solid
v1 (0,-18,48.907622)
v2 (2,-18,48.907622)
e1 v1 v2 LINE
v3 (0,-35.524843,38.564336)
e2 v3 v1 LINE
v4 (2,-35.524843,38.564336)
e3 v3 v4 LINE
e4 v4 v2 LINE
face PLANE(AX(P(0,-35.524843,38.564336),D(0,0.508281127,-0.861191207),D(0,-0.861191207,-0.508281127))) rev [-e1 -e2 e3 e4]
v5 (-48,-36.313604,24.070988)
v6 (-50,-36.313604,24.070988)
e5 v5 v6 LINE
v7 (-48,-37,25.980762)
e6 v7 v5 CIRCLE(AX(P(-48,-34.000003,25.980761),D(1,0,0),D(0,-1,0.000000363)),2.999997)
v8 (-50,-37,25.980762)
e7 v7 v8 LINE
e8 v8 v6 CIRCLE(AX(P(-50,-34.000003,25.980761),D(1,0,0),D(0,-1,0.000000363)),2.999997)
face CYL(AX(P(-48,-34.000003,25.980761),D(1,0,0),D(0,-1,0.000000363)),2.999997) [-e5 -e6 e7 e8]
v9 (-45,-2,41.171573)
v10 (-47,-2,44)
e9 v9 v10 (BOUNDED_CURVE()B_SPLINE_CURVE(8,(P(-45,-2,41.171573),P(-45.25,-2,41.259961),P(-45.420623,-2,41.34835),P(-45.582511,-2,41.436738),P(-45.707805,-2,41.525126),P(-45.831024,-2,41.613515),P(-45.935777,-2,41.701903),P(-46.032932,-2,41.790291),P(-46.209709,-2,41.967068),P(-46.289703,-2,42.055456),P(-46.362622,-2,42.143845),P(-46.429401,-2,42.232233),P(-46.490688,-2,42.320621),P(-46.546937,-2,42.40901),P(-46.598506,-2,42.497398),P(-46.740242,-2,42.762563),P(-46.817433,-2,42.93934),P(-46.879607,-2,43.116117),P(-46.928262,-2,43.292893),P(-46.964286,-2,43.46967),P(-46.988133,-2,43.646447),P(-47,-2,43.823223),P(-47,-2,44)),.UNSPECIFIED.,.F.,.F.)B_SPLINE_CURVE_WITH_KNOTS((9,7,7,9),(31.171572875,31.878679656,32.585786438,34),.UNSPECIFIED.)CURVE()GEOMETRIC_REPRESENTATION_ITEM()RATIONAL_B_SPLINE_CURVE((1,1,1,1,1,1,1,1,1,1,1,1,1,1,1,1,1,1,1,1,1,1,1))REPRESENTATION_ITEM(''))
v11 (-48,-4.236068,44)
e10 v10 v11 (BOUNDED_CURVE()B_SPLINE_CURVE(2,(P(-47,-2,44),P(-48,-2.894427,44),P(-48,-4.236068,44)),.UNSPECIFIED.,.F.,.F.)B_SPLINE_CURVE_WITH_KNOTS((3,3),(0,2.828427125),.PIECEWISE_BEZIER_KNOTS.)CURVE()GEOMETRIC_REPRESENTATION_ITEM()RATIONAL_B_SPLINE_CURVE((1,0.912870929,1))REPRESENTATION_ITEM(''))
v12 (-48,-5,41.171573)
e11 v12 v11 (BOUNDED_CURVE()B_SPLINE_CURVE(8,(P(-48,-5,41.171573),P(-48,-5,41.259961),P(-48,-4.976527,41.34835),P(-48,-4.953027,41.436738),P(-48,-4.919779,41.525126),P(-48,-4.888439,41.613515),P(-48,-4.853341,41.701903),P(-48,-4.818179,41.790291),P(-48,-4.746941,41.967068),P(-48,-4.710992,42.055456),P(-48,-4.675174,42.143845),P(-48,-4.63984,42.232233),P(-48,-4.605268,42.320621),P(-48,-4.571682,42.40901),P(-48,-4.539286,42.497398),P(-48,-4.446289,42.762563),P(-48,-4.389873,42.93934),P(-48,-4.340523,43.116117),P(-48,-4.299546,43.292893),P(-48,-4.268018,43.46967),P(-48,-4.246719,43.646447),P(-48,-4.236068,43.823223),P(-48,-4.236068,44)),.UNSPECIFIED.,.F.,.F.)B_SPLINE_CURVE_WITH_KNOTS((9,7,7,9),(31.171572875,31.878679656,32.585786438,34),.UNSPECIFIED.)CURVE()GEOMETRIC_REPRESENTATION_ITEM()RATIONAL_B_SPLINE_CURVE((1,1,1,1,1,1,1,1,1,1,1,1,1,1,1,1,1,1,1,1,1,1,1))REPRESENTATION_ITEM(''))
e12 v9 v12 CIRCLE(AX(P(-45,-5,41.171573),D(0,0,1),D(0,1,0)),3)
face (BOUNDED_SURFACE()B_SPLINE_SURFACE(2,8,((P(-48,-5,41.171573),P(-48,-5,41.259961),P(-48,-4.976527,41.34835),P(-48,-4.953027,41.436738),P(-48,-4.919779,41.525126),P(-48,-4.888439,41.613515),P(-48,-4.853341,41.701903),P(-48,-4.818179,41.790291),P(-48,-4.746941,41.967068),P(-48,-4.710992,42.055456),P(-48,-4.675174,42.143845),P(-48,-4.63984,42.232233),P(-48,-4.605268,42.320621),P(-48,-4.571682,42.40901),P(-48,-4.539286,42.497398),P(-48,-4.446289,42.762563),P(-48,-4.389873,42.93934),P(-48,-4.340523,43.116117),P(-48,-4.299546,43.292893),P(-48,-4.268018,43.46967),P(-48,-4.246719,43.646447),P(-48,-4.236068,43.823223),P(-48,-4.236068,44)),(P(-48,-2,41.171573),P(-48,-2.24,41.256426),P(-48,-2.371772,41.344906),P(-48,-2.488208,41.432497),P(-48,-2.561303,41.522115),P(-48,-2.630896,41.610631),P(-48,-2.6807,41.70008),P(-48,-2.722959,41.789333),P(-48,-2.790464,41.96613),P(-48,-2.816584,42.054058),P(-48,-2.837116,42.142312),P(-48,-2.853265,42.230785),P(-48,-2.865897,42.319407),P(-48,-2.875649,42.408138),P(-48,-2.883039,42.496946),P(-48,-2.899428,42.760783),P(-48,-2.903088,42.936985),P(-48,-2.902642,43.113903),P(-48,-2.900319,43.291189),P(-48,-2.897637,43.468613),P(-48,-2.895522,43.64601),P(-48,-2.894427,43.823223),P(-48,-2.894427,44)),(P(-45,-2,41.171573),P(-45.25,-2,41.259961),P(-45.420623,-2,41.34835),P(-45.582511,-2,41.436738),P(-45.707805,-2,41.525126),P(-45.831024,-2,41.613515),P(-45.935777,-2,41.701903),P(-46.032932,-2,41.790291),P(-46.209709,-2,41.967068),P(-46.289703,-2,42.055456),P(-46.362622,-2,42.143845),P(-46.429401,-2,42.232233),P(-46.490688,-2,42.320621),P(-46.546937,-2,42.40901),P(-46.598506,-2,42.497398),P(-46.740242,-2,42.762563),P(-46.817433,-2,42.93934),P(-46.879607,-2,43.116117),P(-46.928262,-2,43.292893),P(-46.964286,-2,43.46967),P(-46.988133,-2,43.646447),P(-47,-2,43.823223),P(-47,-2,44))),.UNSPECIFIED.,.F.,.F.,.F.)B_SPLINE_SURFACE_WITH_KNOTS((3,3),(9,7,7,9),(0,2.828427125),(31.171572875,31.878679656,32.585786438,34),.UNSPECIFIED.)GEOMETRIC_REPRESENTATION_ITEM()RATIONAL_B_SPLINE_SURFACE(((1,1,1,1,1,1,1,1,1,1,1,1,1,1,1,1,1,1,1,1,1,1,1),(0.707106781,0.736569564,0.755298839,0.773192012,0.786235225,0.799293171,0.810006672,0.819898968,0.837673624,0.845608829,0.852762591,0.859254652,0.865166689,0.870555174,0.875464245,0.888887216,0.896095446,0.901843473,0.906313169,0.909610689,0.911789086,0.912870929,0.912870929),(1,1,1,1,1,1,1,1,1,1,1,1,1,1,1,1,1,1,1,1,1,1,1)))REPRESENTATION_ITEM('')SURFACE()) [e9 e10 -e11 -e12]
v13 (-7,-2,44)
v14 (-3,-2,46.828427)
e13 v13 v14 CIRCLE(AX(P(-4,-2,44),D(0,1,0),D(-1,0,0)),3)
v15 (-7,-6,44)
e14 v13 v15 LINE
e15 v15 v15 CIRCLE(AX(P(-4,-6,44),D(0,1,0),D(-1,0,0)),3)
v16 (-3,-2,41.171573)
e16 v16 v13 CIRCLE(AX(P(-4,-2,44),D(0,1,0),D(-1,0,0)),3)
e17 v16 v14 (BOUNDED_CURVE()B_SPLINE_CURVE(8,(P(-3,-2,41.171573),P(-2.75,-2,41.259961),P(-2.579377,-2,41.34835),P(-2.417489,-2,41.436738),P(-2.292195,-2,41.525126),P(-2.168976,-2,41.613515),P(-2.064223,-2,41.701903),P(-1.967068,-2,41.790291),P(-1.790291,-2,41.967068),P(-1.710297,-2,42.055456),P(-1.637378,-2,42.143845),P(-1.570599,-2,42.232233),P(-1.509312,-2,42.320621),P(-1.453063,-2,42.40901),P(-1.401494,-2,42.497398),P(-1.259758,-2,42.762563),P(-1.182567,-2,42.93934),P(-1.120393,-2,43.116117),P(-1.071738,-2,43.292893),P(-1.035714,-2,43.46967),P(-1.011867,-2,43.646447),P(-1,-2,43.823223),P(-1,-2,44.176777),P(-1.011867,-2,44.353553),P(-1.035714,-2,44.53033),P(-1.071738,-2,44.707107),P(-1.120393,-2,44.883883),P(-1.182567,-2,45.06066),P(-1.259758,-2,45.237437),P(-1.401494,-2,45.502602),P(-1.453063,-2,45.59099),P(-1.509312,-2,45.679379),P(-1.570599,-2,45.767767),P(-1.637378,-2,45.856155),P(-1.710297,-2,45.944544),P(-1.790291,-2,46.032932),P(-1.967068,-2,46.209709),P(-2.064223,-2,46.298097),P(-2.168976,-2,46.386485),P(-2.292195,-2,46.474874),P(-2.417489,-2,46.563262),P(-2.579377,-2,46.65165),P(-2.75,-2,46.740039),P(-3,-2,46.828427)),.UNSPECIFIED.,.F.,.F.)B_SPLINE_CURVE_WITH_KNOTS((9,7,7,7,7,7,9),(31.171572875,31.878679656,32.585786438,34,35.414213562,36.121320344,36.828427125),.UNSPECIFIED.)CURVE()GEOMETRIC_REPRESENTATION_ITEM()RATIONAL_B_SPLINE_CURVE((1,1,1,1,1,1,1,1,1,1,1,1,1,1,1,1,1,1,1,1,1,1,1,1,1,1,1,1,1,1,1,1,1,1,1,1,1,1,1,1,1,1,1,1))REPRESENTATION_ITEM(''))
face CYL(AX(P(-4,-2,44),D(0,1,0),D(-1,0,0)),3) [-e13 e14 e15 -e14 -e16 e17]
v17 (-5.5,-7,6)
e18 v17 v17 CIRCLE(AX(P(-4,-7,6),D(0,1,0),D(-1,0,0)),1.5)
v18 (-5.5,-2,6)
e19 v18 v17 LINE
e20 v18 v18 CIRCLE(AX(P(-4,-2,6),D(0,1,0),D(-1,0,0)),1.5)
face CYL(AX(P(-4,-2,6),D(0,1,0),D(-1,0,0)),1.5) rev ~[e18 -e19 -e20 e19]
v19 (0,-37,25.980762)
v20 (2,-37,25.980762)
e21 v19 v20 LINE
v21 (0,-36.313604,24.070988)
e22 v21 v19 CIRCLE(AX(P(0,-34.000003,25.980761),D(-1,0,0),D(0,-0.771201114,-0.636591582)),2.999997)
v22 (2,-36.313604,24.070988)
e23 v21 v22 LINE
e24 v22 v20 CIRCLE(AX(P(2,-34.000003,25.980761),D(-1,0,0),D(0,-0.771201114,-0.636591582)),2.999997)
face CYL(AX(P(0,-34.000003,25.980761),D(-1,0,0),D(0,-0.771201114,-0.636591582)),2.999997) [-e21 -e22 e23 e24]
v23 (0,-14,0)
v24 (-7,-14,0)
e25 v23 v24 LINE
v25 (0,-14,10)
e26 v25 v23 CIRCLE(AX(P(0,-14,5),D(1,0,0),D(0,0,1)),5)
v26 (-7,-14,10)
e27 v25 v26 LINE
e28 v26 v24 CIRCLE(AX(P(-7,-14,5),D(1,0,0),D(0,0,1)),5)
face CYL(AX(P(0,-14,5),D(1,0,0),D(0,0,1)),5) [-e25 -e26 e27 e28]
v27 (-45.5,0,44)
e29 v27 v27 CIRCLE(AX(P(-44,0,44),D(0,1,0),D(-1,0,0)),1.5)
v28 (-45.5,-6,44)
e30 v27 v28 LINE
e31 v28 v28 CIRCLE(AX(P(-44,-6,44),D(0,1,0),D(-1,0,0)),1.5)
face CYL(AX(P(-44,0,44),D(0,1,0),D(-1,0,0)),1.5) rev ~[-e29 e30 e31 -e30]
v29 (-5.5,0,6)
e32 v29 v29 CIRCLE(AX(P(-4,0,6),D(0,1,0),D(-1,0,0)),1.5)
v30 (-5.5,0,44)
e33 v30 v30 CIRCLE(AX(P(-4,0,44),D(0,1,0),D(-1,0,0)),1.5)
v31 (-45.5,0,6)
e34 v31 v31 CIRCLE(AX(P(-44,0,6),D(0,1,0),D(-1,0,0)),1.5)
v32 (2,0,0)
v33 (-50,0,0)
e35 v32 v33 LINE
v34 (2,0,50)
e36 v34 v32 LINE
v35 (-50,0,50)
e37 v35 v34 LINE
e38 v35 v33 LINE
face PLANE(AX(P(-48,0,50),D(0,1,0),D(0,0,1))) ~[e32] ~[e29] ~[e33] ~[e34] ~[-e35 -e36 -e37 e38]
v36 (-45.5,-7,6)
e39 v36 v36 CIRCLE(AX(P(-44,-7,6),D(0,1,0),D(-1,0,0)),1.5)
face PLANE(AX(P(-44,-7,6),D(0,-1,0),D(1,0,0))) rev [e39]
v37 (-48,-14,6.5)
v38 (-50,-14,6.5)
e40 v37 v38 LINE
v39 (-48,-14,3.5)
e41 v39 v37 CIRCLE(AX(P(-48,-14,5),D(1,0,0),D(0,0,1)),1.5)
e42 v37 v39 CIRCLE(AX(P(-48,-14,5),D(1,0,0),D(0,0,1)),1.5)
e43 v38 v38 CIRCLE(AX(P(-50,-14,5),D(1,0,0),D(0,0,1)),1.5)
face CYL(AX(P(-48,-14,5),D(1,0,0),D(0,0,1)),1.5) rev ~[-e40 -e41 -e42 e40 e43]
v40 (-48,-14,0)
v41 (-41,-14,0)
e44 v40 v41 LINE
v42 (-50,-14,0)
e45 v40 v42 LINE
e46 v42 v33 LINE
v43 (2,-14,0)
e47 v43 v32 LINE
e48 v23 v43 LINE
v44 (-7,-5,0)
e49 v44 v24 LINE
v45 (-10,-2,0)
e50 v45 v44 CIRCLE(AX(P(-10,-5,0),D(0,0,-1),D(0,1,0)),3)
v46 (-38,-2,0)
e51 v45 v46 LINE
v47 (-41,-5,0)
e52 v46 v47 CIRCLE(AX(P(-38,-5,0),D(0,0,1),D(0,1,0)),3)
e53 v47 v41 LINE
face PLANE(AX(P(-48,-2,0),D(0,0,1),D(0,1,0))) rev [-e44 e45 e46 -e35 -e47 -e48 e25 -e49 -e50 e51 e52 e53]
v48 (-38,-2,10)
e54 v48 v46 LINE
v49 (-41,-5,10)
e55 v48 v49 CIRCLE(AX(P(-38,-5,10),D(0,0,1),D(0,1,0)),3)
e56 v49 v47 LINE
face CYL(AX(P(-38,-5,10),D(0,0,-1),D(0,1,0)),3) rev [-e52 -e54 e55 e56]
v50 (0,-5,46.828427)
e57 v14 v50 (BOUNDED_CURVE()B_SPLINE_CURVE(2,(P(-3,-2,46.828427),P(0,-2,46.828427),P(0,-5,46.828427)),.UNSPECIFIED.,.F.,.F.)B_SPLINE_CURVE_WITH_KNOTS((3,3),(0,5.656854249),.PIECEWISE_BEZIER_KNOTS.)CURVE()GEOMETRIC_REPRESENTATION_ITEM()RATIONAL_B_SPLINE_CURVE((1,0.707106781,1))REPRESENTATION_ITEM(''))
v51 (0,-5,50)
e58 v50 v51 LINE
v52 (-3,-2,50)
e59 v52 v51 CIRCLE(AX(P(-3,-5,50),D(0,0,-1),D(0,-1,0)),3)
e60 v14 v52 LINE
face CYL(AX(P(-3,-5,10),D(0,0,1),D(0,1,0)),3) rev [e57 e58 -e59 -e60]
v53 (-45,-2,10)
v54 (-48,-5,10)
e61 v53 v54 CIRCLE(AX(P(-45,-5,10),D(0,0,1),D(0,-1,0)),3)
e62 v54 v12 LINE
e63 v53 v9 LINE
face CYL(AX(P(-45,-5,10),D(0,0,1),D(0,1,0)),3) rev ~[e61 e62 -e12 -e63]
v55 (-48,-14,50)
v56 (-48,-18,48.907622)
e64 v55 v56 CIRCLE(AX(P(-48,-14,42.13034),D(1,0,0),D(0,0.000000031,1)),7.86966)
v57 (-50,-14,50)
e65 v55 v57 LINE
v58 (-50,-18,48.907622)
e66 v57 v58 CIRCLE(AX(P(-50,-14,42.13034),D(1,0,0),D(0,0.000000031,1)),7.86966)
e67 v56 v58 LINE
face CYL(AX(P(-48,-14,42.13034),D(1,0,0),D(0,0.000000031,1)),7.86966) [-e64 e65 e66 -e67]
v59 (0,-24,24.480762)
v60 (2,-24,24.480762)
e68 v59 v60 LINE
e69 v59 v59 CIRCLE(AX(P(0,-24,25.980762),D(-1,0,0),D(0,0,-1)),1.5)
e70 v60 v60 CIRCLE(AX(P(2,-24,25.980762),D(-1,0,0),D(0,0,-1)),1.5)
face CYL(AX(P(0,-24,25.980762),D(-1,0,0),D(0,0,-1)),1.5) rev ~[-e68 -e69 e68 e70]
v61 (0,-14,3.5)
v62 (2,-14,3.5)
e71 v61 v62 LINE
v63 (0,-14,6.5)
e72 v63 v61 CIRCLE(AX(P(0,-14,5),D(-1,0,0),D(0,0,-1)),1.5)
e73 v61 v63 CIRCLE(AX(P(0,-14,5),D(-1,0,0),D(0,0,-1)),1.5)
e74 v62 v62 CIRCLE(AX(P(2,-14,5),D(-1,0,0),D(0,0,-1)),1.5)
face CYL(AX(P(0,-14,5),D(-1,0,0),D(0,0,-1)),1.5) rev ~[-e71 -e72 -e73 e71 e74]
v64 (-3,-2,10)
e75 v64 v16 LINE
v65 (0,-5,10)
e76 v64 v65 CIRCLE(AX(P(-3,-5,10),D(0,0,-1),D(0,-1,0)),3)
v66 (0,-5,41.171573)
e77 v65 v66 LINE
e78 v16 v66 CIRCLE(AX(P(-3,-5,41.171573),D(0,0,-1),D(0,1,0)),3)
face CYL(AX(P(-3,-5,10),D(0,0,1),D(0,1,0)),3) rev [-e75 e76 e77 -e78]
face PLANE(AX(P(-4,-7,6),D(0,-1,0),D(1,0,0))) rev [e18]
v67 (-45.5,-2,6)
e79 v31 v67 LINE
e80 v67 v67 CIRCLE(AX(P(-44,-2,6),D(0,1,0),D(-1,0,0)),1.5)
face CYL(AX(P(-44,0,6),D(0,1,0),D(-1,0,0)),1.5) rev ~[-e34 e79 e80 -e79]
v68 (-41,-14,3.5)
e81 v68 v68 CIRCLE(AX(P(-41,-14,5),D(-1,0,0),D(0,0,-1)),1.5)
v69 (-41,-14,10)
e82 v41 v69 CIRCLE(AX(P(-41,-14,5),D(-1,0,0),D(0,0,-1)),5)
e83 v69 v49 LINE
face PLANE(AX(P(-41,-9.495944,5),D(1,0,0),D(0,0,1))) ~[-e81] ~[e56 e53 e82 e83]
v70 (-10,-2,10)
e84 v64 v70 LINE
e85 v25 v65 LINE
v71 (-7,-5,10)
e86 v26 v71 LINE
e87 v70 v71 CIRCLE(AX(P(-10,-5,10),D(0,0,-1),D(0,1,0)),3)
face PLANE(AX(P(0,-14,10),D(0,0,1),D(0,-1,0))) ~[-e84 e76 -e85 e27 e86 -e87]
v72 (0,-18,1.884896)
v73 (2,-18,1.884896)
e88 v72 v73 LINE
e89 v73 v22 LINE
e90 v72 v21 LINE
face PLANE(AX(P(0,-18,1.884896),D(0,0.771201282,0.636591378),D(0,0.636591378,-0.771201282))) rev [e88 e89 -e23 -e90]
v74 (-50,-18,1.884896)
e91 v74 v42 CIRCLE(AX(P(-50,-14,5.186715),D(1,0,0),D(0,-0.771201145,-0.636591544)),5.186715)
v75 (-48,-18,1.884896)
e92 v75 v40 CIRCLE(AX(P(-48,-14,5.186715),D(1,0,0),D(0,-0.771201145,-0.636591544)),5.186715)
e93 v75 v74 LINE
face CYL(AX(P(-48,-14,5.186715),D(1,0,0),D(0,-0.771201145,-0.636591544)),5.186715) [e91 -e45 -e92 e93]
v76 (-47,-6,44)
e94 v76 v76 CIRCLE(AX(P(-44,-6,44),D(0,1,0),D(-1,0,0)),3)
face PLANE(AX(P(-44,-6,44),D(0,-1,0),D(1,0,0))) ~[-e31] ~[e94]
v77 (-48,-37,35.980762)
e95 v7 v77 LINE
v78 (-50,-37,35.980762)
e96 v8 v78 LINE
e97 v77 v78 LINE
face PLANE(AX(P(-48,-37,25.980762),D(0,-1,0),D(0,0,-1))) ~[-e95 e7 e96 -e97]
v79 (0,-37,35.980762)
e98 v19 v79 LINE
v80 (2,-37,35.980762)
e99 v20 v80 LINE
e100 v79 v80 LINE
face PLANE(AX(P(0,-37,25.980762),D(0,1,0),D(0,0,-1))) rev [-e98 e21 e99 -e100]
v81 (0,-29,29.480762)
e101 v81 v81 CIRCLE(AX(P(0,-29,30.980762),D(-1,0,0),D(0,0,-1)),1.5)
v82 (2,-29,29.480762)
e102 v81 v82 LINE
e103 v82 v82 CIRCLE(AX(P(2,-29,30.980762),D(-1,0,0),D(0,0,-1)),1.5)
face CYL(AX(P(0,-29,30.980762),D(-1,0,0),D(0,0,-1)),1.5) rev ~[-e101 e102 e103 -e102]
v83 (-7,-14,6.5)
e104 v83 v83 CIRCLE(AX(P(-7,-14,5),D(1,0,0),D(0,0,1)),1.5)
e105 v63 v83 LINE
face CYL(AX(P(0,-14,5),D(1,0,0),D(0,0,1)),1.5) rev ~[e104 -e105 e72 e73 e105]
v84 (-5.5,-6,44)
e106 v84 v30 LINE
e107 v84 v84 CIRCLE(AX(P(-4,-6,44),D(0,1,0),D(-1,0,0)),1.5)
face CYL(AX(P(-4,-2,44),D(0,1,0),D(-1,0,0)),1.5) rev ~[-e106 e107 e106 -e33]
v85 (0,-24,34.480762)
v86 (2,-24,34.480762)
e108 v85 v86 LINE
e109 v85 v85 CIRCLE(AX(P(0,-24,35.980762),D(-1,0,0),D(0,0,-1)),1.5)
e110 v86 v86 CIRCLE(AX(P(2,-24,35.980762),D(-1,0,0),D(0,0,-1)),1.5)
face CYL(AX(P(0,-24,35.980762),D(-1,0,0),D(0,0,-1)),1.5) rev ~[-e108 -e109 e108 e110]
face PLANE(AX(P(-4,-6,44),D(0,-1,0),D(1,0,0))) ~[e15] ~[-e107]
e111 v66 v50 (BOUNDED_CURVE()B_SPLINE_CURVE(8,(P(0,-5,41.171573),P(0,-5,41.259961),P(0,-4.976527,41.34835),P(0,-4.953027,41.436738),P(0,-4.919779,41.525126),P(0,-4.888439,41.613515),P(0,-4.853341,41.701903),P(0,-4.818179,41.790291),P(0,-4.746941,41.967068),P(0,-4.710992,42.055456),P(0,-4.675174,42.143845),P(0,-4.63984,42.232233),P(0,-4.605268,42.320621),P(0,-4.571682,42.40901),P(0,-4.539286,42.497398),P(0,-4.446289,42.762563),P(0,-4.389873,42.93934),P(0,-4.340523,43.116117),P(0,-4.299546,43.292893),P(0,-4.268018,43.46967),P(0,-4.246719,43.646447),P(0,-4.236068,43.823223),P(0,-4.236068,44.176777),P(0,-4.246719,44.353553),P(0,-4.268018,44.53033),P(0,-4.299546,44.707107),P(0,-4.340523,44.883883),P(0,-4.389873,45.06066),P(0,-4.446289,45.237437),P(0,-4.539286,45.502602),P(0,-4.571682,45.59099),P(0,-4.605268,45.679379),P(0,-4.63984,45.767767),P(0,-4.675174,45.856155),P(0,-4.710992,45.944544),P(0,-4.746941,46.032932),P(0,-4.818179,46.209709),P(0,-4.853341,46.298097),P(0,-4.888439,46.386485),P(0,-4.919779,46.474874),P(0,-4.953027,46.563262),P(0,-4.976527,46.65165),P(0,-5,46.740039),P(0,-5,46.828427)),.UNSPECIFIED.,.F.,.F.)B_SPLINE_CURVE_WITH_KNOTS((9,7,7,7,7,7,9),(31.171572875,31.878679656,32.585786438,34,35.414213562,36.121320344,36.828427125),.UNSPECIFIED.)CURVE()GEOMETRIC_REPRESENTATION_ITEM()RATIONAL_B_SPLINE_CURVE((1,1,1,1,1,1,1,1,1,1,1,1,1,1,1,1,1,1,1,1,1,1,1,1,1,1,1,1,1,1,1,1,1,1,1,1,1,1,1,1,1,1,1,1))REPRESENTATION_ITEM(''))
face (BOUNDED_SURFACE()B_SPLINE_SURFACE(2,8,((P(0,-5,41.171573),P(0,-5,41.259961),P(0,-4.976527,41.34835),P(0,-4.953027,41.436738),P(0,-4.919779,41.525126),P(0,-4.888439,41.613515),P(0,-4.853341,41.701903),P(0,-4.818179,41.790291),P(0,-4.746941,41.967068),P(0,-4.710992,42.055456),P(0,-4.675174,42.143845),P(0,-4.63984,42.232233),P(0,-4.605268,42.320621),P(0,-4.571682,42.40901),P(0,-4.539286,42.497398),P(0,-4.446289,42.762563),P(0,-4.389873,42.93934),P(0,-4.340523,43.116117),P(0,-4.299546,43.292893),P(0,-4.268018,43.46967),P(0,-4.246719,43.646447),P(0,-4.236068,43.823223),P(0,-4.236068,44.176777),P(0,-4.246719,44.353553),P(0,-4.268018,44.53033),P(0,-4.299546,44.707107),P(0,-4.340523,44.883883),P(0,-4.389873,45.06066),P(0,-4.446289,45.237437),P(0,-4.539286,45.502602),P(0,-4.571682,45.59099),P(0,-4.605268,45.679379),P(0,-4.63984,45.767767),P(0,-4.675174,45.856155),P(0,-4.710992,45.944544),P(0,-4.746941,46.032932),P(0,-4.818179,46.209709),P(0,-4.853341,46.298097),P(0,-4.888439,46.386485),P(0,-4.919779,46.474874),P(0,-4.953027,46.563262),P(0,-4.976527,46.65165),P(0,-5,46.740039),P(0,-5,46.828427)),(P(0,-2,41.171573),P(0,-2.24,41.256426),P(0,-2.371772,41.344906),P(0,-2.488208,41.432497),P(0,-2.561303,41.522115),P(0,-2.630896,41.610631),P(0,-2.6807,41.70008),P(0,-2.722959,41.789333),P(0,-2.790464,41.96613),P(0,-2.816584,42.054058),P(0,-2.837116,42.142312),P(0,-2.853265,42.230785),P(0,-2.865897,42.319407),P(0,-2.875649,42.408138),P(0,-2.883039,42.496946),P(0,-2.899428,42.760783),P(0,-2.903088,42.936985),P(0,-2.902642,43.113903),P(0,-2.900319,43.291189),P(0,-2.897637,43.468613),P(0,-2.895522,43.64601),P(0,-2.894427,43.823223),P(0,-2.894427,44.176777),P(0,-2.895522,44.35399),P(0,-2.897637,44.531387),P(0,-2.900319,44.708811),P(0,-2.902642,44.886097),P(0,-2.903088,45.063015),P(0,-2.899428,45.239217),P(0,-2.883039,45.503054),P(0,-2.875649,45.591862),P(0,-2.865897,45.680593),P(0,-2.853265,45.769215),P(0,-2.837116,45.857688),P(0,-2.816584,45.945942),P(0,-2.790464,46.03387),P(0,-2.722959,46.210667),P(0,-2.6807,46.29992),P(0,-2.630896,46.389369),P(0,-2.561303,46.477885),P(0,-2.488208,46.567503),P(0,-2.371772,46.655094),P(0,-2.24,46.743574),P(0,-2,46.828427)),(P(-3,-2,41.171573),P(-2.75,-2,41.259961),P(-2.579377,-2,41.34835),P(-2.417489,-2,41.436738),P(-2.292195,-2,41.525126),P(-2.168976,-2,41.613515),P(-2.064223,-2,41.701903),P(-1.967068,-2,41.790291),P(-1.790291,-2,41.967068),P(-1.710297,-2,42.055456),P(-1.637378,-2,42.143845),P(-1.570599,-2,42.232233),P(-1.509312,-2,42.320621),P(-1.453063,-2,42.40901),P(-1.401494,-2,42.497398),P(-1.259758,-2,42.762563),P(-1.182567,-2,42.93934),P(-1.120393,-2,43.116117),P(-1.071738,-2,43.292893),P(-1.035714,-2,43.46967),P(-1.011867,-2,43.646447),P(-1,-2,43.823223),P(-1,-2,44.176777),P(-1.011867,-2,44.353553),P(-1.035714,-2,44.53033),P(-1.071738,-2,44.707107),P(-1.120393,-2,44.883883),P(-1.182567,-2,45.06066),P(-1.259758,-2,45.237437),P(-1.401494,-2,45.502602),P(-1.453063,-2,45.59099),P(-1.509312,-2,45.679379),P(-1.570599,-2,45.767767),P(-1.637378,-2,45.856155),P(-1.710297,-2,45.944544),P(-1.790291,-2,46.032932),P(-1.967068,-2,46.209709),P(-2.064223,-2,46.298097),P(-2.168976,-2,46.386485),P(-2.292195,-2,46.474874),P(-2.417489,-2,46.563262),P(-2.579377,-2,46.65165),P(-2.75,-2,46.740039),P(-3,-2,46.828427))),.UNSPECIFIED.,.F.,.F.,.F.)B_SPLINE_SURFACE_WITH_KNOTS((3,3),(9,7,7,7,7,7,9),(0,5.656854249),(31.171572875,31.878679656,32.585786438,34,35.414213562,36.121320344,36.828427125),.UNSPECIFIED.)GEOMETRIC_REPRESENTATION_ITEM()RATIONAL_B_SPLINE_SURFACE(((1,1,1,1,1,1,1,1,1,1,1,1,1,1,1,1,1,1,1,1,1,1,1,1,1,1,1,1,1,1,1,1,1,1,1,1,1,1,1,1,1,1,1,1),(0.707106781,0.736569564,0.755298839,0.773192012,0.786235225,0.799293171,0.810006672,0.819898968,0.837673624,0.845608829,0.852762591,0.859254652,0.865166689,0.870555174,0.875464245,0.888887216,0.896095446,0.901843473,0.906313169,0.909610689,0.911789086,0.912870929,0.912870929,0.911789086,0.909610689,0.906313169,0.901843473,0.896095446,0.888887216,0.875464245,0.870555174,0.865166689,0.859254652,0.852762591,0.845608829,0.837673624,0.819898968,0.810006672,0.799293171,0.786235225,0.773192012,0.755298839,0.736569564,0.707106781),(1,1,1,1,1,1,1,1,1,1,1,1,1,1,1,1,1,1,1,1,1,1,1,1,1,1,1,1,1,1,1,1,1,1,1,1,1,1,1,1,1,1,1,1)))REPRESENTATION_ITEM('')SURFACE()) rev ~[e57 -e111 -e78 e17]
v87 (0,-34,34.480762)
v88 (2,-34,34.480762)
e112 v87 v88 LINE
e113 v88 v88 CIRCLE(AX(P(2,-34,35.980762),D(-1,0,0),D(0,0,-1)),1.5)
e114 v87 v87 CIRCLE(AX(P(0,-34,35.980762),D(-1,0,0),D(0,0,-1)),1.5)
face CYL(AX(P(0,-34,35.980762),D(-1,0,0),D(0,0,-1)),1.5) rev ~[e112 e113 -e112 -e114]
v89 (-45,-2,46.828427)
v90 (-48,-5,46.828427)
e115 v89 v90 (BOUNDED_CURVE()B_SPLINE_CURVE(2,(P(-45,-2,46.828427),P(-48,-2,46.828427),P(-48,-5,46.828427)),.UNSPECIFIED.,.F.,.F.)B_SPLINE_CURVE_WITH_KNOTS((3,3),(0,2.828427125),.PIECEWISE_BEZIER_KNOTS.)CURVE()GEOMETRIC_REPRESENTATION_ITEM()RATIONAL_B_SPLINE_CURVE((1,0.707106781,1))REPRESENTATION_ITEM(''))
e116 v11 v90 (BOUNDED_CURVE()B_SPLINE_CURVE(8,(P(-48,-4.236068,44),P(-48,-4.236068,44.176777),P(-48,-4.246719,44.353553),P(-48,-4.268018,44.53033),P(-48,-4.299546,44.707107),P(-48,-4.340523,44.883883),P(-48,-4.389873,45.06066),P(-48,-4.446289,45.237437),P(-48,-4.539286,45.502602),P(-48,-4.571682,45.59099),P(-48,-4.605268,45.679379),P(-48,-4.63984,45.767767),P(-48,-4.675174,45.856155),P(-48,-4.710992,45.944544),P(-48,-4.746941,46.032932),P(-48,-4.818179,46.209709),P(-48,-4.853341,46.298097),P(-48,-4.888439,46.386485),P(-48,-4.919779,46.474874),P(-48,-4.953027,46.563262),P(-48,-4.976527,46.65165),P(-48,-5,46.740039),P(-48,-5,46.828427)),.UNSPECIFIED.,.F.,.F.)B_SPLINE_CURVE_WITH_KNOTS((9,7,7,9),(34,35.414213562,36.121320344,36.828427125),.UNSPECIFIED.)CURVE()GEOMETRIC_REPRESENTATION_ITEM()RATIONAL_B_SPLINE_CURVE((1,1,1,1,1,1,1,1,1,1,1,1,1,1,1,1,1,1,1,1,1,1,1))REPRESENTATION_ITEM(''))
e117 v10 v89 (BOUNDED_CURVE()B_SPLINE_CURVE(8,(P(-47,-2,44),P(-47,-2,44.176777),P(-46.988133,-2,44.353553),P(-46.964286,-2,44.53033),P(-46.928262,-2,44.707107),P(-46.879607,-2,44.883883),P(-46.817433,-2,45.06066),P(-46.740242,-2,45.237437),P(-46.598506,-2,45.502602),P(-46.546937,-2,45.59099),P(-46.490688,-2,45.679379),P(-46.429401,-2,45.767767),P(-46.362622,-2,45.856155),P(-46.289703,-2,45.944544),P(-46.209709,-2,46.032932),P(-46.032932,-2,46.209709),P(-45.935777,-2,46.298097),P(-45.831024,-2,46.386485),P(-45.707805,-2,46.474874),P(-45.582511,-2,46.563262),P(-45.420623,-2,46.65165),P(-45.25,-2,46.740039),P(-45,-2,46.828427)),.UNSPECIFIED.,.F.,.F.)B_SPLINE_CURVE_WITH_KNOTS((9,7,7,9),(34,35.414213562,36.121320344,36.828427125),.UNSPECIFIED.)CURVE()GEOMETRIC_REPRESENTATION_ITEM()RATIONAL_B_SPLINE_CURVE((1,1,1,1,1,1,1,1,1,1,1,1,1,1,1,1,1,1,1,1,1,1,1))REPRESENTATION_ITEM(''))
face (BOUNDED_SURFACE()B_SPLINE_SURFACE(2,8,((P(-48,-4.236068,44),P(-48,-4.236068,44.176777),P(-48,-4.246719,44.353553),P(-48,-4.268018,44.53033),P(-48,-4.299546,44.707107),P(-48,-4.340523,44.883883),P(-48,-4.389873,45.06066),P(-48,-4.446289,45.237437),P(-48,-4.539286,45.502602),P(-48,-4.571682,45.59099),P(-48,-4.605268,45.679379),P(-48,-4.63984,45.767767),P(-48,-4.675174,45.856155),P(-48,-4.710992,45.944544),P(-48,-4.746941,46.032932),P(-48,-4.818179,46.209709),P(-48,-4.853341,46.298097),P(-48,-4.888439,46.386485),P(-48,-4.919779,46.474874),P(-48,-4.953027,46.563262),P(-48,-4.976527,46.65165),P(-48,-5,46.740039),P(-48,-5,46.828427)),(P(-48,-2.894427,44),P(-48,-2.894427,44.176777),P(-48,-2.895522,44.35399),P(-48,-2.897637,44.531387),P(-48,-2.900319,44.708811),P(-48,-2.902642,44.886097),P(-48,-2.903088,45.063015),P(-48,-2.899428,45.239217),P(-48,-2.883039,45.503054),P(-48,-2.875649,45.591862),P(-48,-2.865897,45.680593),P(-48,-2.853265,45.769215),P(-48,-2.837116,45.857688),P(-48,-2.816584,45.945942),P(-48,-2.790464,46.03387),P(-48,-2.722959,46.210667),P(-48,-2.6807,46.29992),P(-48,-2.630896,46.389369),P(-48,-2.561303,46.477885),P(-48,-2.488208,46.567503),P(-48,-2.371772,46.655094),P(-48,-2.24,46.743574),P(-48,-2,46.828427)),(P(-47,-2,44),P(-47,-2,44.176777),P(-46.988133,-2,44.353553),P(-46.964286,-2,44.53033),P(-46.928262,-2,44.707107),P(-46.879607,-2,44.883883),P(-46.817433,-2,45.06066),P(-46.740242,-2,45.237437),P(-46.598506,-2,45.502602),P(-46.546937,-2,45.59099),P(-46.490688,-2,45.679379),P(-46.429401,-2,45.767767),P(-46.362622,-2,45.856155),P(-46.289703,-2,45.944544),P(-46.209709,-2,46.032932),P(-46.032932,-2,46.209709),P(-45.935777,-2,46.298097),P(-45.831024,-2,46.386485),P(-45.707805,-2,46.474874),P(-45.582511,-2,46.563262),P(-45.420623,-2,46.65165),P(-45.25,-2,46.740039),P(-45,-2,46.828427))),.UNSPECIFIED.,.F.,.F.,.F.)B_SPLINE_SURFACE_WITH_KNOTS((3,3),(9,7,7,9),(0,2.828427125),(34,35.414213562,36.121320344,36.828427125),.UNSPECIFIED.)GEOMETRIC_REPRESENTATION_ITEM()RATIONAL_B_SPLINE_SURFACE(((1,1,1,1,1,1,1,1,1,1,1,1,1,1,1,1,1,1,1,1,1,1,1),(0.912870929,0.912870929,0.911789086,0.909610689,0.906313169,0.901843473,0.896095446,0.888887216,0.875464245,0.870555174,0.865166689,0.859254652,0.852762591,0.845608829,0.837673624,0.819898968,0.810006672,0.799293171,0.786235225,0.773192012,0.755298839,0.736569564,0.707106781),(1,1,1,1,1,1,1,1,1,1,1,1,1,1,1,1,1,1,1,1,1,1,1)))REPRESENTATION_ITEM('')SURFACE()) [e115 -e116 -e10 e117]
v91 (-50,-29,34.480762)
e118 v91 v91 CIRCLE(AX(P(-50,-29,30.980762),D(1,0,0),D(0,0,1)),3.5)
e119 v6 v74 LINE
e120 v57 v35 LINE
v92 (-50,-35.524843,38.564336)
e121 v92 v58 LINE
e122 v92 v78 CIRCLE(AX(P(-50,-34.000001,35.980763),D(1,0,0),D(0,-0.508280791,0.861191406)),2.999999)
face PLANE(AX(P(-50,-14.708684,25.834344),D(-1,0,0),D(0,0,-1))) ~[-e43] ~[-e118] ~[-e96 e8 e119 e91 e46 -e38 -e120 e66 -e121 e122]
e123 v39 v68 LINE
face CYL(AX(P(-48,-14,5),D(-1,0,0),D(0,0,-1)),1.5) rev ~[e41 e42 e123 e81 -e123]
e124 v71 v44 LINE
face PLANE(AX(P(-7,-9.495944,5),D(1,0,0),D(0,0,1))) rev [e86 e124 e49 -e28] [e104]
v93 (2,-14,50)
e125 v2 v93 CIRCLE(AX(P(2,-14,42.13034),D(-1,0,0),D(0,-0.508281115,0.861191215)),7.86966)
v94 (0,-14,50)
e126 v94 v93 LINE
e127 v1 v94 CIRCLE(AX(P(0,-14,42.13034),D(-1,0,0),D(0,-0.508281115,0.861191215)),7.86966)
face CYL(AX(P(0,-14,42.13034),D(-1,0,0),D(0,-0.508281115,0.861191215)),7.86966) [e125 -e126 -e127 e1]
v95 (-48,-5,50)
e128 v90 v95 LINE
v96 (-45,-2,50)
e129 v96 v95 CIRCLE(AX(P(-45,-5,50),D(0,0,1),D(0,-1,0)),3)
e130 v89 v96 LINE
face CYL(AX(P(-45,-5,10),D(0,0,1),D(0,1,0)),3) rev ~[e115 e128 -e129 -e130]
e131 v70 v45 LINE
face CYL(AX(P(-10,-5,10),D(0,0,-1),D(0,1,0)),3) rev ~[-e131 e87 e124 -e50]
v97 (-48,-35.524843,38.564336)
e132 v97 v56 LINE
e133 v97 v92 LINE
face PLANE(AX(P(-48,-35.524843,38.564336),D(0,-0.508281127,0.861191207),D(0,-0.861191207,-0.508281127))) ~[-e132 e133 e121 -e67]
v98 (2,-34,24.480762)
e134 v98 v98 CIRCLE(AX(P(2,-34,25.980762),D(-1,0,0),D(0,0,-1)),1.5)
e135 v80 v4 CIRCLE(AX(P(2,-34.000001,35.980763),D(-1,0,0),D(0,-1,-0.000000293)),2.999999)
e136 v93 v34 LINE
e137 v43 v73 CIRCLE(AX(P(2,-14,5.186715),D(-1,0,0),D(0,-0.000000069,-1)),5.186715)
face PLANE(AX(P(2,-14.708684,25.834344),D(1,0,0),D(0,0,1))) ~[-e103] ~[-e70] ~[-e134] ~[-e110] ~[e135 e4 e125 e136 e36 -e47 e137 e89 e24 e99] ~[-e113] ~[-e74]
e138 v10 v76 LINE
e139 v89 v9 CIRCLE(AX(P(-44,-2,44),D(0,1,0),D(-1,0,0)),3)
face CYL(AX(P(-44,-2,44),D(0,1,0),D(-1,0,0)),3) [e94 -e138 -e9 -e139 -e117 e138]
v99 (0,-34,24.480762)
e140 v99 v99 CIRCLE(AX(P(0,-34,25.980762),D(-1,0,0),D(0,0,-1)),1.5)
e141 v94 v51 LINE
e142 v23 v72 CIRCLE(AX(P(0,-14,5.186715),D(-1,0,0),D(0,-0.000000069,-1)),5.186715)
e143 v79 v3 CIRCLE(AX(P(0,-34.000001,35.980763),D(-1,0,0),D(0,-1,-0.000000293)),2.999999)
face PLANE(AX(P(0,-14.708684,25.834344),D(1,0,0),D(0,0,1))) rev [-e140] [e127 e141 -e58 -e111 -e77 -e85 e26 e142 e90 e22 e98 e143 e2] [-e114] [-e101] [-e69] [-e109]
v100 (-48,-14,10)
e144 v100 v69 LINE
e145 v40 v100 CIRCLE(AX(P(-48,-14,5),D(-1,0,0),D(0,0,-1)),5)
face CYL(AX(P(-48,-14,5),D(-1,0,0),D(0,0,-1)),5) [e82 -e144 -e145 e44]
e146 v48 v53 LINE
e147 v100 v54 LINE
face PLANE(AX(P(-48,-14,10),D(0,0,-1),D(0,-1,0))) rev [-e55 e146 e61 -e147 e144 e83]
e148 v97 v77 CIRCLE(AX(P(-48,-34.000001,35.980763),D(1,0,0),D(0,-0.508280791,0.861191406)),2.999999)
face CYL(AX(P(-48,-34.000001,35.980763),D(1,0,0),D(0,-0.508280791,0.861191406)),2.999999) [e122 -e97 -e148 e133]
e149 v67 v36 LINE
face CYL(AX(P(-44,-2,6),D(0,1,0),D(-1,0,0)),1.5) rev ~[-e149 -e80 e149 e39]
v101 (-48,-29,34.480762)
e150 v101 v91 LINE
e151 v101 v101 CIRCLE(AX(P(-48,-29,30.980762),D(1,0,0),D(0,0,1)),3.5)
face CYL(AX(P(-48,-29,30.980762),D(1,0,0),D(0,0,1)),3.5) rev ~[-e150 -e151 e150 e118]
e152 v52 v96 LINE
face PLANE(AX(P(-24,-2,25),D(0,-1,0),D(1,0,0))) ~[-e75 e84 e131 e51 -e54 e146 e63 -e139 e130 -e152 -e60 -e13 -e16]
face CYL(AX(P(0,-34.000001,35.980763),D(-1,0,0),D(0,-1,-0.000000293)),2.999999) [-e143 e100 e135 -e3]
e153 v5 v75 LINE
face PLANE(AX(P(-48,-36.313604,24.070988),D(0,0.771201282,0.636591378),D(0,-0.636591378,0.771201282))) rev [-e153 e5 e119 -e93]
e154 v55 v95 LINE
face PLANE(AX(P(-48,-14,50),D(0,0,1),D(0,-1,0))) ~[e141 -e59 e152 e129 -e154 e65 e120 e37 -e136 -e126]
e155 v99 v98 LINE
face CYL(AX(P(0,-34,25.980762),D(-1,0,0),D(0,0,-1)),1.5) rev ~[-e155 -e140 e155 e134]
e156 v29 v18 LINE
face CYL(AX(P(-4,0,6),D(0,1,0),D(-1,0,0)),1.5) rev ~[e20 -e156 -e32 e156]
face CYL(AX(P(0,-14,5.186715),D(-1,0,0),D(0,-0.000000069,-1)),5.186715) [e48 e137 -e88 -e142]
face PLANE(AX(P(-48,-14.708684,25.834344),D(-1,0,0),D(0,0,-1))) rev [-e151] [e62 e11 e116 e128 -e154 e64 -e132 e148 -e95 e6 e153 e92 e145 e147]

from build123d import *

# Parameters (mm, degrees)
SKETCH_W      = 48
SKETCH_H      = 50
SKETCH_R      = 1.5
PAD_DEPTH     = 2
SKETCH001_R   = 1.5
PAD001_DEPTH  = 2
SKETCH002_R   = 3.5
SKETCH002_R_2 = 1.5
PAD002_DEPTH  = 2
SKETCH003_R   = 3
SKETCH003_R_2 = 1.5
PAD003_DEPTH  = 4
SKETCH004_R   = 1.5
PAD004_DEPTH  = 7
SKETCH005_R   = 1.5
PAD005_DEPTH  = 7
SKETCH006_R   = 1.5
POCKET_DEPTH  = 5
FILLET_R      = 3
FILLET001_R   = 3
FILLET002_R   = 3
FILLET003_R   = 3


with BuildPart() as body:
    # Sketch → Pad (new body)
    with BuildSketch(Plane.XZ):
        with Locations((24, 25)):
            Rectangle(SKETCH_W, SKETCH_H)
        with Locations((4, 44)):
            Circle(SKETCH_R, mode=Mode.SUBTRACT)
        with Locations((44, 44)):
            Circle(SKETCH_R, mode=Mode.SUBTRACT)
        with Locations((4, 6)):
            Circle(SKETCH_R, mode=Mode.SUBTRACT)
        with Locations((44, 6)):
            Circle(SKETCH_R, mode=Mode.SUBTRACT)
    extrude(amount=PAD_DEPTH)

    # Sketch001 (on Face4 of Pad) → Pad001 (join)
    with BuildSketch(Plane(origin=(0, 0, 0), x_dir=(0, 0, -1), z_dir=(-1, 0, 0))):
        with BuildLine():
            Line((-50, 0), (0, 0))
            Line((0, 14), (0, 0))
            ThreePointArc((0, 14), (-0.494828, 16.210929), (-1.884896, 18))
            Line((-1.884896, 18), (-24.070988, 36.313604))
            ThreePointArc((-24.070988, 36.313604), (-24.966073, 36.823191), (-25.980762, 37))
            Line((-25.980762, 37), (-35.980762, 37))
            ThreePointArc((-35.980762, 37), (-37.468289, 36.605238), (-38.564336, 35.524843))
            Line((-38.564336, 35.524843), (-48.907622, 18))
            ThreePointArc((-48.907622, 18), (-49.721995, 16.07324), (-50, 14))
            Line((-50, 14), (-50, 0))
        make_face()
        with Locations((-5, 14)):
            Circle(SKETCH001_R, mode=Mode.SUBTRACT)
        with Locations((-30.980762, 29)):
            Circle(SKETCH001_R, mode=Mode.SUBTRACT)
        with Locations((-25.980762, 24)):
            Circle(SKETCH001_R, mode=Mode.SUBTRACT)
        with Locations((-25.980762, 34)):
            Circle(SKETCH001_R, mode=Mode.SUBTRACT)
        with Locations((-35.980762, 34)):
            Circle(SKETCH001_R, mode=Mode.SUBTRACT)
        with Locations((-35.980762, 24)):
            Circle(SKETCH001_R, mode=Mode.SUBTRACT)
    extrude(amount=PAD001_DEPTH)

    # Sketch002 (on Face3 of Pad001) → Pad002 (join)
    with BuildSketch(Plane(origin=(48, 0, 0), x_dir=(0, 0, 1), z_dir=(1, 0, 0))):
        with BuildLine():
            Line((24.070988, 36.313604), (1.884896, 18))
            ThreePointArc((1.884896, 18), (0.494828, 16.210929), (0, 14))
            Line((0, 14), (0, 0))
            Line((50, 0), (0, 0))
            Line((50, 14), (50, 0))
            ThreePointArc((50, 14), (49.721995, 16.07324), (48.907622, 18))
            Line((38.564336, 35.524843), (48.907622, 18))
            ThreePointArc((38.564336, 35.524843), (37.468289, 36.605238), (35.980762, 37))
            Line((25.980762, 37), (35.980762, 37))
            ThreePointArc((25.980762, 37), (24.966073, 36.823191), (24.070988, 36.313604))
        make_face()
        with Locations((30.980762, 29)):
            Circle(SKETCH002_R, mode=Mode.SUBTRACT)
        with Locations((5, 14)):
            Circle(SKETCH002_R_2, mode=Mode.SUBTRACT)
    extrude(amount=PAD002_DEPTH)

    # Sketch003 (on Face5 of Pad002) → Pad003 (join)
    with BuildSketch(Plane.XZ.offset(2)):
        with Locations((4, 44)):
            Circle(SKETCH003_R)
        with Locations((4, 44)):
            Circle(SKETCH003_R_2, mode=Mode.SUBTRACT)
        with Locations((44, 44)):
            Circle(SKETCH003_R)
        with Locations((44, 44)):
            Circle(SKETCH003_R_2, mode=Mode.SUBTRACT)
    extrude(amount=PAD003_DEPTH)

    # Sketch004 (on Face8 of Pad003) → Pad004 (join)
    with BuildSketch(Plane(origin=(0, 0, 0), x_dir=(0, 0, 1), z_dir=(1, 0, 0))):
        with BuildLine():
            Line((0, 2), (0, 14))
            ThreePointArc((10, 14), (5, 19), (0, 14))
            Line((10, 14), (10, 2))
            Line((10, 2), (0, 2))
        make_face()
        with Locations((5, 14)):
            Circle(SKETCH004_R, mode=Mode.SUBTRACT)
    extrude(amount=PAD004_DEPTH)

    # Sketch005 (on Face12 of Pad004) → Pad005 (join)
    with BuildSketch(Plane(origin=(48, 0, 0), x_dir=(0, 0, -1), z_dir=(-1, 0, 0))):
        with BuildLine():
            Line((-10, 14), (-10, 2))
            Line((-10, 2), (0, 2))
            Line((0, 2), (0, 14))
            ThreePointArc((0, 14), (-5, 19), (-10, 14))
        make_face()
        with Locations((-5, 14)):
            Circle(SKETCH005_R, mode=Mode.SUBTRACT)
    extrude(amount=PAD005_DEPTH)

    # Sketch006 (on Face6 of Pad005) → Pocket (cut)
    with BuildSketch(Plane.XZ.offset(2)):
        with Locations((4, 6)):
            Circle(SKETCH006_R)
        with Locations((44, 6)):
            Circle(SKETCH006_R)
    extrude(amount=POCKET_DEPTH, mode=Mode.SUBTRACT)

    # Fillet
    fillet_edges = [body.edges().sort_by_distance(p)[0] for p in [
        (48, -2, 30),
    ]]
    fillet(fillet_edges, radius=FILLET_R)

    # Fillet001
    fillet001_edges = [body.edges().sort_by_distance(p)[0] for p in [
        (0, -2, 30),
    ]]
    fillet(fillet001_edges, radius=FILLET001_R)

    # Fillet002
    fillet002_edges = [body.edges().sort_by_distance(p)[0] for p in [
        (7, -2, 5),
    ]]
    fillet(fillet002_edges, radius=FILLET002_R)

    # Fillet003
    fillet003_edges = [body.edges().sort_by_distance(p)[0] for p in [
        (41, -2, 5),
    ]]
    fillet(fillet003_edges, radius=FILLET003_R)


with BuildPart() as part_mirroring:
    # Part__Mirroring: instance of Body
    add(body.part.mirror(Plane(origin=(0, 0, 0), x_dir=(0, -1, 0), z_dir=(1, 0, 0))))


solid = part_mirroring.part
